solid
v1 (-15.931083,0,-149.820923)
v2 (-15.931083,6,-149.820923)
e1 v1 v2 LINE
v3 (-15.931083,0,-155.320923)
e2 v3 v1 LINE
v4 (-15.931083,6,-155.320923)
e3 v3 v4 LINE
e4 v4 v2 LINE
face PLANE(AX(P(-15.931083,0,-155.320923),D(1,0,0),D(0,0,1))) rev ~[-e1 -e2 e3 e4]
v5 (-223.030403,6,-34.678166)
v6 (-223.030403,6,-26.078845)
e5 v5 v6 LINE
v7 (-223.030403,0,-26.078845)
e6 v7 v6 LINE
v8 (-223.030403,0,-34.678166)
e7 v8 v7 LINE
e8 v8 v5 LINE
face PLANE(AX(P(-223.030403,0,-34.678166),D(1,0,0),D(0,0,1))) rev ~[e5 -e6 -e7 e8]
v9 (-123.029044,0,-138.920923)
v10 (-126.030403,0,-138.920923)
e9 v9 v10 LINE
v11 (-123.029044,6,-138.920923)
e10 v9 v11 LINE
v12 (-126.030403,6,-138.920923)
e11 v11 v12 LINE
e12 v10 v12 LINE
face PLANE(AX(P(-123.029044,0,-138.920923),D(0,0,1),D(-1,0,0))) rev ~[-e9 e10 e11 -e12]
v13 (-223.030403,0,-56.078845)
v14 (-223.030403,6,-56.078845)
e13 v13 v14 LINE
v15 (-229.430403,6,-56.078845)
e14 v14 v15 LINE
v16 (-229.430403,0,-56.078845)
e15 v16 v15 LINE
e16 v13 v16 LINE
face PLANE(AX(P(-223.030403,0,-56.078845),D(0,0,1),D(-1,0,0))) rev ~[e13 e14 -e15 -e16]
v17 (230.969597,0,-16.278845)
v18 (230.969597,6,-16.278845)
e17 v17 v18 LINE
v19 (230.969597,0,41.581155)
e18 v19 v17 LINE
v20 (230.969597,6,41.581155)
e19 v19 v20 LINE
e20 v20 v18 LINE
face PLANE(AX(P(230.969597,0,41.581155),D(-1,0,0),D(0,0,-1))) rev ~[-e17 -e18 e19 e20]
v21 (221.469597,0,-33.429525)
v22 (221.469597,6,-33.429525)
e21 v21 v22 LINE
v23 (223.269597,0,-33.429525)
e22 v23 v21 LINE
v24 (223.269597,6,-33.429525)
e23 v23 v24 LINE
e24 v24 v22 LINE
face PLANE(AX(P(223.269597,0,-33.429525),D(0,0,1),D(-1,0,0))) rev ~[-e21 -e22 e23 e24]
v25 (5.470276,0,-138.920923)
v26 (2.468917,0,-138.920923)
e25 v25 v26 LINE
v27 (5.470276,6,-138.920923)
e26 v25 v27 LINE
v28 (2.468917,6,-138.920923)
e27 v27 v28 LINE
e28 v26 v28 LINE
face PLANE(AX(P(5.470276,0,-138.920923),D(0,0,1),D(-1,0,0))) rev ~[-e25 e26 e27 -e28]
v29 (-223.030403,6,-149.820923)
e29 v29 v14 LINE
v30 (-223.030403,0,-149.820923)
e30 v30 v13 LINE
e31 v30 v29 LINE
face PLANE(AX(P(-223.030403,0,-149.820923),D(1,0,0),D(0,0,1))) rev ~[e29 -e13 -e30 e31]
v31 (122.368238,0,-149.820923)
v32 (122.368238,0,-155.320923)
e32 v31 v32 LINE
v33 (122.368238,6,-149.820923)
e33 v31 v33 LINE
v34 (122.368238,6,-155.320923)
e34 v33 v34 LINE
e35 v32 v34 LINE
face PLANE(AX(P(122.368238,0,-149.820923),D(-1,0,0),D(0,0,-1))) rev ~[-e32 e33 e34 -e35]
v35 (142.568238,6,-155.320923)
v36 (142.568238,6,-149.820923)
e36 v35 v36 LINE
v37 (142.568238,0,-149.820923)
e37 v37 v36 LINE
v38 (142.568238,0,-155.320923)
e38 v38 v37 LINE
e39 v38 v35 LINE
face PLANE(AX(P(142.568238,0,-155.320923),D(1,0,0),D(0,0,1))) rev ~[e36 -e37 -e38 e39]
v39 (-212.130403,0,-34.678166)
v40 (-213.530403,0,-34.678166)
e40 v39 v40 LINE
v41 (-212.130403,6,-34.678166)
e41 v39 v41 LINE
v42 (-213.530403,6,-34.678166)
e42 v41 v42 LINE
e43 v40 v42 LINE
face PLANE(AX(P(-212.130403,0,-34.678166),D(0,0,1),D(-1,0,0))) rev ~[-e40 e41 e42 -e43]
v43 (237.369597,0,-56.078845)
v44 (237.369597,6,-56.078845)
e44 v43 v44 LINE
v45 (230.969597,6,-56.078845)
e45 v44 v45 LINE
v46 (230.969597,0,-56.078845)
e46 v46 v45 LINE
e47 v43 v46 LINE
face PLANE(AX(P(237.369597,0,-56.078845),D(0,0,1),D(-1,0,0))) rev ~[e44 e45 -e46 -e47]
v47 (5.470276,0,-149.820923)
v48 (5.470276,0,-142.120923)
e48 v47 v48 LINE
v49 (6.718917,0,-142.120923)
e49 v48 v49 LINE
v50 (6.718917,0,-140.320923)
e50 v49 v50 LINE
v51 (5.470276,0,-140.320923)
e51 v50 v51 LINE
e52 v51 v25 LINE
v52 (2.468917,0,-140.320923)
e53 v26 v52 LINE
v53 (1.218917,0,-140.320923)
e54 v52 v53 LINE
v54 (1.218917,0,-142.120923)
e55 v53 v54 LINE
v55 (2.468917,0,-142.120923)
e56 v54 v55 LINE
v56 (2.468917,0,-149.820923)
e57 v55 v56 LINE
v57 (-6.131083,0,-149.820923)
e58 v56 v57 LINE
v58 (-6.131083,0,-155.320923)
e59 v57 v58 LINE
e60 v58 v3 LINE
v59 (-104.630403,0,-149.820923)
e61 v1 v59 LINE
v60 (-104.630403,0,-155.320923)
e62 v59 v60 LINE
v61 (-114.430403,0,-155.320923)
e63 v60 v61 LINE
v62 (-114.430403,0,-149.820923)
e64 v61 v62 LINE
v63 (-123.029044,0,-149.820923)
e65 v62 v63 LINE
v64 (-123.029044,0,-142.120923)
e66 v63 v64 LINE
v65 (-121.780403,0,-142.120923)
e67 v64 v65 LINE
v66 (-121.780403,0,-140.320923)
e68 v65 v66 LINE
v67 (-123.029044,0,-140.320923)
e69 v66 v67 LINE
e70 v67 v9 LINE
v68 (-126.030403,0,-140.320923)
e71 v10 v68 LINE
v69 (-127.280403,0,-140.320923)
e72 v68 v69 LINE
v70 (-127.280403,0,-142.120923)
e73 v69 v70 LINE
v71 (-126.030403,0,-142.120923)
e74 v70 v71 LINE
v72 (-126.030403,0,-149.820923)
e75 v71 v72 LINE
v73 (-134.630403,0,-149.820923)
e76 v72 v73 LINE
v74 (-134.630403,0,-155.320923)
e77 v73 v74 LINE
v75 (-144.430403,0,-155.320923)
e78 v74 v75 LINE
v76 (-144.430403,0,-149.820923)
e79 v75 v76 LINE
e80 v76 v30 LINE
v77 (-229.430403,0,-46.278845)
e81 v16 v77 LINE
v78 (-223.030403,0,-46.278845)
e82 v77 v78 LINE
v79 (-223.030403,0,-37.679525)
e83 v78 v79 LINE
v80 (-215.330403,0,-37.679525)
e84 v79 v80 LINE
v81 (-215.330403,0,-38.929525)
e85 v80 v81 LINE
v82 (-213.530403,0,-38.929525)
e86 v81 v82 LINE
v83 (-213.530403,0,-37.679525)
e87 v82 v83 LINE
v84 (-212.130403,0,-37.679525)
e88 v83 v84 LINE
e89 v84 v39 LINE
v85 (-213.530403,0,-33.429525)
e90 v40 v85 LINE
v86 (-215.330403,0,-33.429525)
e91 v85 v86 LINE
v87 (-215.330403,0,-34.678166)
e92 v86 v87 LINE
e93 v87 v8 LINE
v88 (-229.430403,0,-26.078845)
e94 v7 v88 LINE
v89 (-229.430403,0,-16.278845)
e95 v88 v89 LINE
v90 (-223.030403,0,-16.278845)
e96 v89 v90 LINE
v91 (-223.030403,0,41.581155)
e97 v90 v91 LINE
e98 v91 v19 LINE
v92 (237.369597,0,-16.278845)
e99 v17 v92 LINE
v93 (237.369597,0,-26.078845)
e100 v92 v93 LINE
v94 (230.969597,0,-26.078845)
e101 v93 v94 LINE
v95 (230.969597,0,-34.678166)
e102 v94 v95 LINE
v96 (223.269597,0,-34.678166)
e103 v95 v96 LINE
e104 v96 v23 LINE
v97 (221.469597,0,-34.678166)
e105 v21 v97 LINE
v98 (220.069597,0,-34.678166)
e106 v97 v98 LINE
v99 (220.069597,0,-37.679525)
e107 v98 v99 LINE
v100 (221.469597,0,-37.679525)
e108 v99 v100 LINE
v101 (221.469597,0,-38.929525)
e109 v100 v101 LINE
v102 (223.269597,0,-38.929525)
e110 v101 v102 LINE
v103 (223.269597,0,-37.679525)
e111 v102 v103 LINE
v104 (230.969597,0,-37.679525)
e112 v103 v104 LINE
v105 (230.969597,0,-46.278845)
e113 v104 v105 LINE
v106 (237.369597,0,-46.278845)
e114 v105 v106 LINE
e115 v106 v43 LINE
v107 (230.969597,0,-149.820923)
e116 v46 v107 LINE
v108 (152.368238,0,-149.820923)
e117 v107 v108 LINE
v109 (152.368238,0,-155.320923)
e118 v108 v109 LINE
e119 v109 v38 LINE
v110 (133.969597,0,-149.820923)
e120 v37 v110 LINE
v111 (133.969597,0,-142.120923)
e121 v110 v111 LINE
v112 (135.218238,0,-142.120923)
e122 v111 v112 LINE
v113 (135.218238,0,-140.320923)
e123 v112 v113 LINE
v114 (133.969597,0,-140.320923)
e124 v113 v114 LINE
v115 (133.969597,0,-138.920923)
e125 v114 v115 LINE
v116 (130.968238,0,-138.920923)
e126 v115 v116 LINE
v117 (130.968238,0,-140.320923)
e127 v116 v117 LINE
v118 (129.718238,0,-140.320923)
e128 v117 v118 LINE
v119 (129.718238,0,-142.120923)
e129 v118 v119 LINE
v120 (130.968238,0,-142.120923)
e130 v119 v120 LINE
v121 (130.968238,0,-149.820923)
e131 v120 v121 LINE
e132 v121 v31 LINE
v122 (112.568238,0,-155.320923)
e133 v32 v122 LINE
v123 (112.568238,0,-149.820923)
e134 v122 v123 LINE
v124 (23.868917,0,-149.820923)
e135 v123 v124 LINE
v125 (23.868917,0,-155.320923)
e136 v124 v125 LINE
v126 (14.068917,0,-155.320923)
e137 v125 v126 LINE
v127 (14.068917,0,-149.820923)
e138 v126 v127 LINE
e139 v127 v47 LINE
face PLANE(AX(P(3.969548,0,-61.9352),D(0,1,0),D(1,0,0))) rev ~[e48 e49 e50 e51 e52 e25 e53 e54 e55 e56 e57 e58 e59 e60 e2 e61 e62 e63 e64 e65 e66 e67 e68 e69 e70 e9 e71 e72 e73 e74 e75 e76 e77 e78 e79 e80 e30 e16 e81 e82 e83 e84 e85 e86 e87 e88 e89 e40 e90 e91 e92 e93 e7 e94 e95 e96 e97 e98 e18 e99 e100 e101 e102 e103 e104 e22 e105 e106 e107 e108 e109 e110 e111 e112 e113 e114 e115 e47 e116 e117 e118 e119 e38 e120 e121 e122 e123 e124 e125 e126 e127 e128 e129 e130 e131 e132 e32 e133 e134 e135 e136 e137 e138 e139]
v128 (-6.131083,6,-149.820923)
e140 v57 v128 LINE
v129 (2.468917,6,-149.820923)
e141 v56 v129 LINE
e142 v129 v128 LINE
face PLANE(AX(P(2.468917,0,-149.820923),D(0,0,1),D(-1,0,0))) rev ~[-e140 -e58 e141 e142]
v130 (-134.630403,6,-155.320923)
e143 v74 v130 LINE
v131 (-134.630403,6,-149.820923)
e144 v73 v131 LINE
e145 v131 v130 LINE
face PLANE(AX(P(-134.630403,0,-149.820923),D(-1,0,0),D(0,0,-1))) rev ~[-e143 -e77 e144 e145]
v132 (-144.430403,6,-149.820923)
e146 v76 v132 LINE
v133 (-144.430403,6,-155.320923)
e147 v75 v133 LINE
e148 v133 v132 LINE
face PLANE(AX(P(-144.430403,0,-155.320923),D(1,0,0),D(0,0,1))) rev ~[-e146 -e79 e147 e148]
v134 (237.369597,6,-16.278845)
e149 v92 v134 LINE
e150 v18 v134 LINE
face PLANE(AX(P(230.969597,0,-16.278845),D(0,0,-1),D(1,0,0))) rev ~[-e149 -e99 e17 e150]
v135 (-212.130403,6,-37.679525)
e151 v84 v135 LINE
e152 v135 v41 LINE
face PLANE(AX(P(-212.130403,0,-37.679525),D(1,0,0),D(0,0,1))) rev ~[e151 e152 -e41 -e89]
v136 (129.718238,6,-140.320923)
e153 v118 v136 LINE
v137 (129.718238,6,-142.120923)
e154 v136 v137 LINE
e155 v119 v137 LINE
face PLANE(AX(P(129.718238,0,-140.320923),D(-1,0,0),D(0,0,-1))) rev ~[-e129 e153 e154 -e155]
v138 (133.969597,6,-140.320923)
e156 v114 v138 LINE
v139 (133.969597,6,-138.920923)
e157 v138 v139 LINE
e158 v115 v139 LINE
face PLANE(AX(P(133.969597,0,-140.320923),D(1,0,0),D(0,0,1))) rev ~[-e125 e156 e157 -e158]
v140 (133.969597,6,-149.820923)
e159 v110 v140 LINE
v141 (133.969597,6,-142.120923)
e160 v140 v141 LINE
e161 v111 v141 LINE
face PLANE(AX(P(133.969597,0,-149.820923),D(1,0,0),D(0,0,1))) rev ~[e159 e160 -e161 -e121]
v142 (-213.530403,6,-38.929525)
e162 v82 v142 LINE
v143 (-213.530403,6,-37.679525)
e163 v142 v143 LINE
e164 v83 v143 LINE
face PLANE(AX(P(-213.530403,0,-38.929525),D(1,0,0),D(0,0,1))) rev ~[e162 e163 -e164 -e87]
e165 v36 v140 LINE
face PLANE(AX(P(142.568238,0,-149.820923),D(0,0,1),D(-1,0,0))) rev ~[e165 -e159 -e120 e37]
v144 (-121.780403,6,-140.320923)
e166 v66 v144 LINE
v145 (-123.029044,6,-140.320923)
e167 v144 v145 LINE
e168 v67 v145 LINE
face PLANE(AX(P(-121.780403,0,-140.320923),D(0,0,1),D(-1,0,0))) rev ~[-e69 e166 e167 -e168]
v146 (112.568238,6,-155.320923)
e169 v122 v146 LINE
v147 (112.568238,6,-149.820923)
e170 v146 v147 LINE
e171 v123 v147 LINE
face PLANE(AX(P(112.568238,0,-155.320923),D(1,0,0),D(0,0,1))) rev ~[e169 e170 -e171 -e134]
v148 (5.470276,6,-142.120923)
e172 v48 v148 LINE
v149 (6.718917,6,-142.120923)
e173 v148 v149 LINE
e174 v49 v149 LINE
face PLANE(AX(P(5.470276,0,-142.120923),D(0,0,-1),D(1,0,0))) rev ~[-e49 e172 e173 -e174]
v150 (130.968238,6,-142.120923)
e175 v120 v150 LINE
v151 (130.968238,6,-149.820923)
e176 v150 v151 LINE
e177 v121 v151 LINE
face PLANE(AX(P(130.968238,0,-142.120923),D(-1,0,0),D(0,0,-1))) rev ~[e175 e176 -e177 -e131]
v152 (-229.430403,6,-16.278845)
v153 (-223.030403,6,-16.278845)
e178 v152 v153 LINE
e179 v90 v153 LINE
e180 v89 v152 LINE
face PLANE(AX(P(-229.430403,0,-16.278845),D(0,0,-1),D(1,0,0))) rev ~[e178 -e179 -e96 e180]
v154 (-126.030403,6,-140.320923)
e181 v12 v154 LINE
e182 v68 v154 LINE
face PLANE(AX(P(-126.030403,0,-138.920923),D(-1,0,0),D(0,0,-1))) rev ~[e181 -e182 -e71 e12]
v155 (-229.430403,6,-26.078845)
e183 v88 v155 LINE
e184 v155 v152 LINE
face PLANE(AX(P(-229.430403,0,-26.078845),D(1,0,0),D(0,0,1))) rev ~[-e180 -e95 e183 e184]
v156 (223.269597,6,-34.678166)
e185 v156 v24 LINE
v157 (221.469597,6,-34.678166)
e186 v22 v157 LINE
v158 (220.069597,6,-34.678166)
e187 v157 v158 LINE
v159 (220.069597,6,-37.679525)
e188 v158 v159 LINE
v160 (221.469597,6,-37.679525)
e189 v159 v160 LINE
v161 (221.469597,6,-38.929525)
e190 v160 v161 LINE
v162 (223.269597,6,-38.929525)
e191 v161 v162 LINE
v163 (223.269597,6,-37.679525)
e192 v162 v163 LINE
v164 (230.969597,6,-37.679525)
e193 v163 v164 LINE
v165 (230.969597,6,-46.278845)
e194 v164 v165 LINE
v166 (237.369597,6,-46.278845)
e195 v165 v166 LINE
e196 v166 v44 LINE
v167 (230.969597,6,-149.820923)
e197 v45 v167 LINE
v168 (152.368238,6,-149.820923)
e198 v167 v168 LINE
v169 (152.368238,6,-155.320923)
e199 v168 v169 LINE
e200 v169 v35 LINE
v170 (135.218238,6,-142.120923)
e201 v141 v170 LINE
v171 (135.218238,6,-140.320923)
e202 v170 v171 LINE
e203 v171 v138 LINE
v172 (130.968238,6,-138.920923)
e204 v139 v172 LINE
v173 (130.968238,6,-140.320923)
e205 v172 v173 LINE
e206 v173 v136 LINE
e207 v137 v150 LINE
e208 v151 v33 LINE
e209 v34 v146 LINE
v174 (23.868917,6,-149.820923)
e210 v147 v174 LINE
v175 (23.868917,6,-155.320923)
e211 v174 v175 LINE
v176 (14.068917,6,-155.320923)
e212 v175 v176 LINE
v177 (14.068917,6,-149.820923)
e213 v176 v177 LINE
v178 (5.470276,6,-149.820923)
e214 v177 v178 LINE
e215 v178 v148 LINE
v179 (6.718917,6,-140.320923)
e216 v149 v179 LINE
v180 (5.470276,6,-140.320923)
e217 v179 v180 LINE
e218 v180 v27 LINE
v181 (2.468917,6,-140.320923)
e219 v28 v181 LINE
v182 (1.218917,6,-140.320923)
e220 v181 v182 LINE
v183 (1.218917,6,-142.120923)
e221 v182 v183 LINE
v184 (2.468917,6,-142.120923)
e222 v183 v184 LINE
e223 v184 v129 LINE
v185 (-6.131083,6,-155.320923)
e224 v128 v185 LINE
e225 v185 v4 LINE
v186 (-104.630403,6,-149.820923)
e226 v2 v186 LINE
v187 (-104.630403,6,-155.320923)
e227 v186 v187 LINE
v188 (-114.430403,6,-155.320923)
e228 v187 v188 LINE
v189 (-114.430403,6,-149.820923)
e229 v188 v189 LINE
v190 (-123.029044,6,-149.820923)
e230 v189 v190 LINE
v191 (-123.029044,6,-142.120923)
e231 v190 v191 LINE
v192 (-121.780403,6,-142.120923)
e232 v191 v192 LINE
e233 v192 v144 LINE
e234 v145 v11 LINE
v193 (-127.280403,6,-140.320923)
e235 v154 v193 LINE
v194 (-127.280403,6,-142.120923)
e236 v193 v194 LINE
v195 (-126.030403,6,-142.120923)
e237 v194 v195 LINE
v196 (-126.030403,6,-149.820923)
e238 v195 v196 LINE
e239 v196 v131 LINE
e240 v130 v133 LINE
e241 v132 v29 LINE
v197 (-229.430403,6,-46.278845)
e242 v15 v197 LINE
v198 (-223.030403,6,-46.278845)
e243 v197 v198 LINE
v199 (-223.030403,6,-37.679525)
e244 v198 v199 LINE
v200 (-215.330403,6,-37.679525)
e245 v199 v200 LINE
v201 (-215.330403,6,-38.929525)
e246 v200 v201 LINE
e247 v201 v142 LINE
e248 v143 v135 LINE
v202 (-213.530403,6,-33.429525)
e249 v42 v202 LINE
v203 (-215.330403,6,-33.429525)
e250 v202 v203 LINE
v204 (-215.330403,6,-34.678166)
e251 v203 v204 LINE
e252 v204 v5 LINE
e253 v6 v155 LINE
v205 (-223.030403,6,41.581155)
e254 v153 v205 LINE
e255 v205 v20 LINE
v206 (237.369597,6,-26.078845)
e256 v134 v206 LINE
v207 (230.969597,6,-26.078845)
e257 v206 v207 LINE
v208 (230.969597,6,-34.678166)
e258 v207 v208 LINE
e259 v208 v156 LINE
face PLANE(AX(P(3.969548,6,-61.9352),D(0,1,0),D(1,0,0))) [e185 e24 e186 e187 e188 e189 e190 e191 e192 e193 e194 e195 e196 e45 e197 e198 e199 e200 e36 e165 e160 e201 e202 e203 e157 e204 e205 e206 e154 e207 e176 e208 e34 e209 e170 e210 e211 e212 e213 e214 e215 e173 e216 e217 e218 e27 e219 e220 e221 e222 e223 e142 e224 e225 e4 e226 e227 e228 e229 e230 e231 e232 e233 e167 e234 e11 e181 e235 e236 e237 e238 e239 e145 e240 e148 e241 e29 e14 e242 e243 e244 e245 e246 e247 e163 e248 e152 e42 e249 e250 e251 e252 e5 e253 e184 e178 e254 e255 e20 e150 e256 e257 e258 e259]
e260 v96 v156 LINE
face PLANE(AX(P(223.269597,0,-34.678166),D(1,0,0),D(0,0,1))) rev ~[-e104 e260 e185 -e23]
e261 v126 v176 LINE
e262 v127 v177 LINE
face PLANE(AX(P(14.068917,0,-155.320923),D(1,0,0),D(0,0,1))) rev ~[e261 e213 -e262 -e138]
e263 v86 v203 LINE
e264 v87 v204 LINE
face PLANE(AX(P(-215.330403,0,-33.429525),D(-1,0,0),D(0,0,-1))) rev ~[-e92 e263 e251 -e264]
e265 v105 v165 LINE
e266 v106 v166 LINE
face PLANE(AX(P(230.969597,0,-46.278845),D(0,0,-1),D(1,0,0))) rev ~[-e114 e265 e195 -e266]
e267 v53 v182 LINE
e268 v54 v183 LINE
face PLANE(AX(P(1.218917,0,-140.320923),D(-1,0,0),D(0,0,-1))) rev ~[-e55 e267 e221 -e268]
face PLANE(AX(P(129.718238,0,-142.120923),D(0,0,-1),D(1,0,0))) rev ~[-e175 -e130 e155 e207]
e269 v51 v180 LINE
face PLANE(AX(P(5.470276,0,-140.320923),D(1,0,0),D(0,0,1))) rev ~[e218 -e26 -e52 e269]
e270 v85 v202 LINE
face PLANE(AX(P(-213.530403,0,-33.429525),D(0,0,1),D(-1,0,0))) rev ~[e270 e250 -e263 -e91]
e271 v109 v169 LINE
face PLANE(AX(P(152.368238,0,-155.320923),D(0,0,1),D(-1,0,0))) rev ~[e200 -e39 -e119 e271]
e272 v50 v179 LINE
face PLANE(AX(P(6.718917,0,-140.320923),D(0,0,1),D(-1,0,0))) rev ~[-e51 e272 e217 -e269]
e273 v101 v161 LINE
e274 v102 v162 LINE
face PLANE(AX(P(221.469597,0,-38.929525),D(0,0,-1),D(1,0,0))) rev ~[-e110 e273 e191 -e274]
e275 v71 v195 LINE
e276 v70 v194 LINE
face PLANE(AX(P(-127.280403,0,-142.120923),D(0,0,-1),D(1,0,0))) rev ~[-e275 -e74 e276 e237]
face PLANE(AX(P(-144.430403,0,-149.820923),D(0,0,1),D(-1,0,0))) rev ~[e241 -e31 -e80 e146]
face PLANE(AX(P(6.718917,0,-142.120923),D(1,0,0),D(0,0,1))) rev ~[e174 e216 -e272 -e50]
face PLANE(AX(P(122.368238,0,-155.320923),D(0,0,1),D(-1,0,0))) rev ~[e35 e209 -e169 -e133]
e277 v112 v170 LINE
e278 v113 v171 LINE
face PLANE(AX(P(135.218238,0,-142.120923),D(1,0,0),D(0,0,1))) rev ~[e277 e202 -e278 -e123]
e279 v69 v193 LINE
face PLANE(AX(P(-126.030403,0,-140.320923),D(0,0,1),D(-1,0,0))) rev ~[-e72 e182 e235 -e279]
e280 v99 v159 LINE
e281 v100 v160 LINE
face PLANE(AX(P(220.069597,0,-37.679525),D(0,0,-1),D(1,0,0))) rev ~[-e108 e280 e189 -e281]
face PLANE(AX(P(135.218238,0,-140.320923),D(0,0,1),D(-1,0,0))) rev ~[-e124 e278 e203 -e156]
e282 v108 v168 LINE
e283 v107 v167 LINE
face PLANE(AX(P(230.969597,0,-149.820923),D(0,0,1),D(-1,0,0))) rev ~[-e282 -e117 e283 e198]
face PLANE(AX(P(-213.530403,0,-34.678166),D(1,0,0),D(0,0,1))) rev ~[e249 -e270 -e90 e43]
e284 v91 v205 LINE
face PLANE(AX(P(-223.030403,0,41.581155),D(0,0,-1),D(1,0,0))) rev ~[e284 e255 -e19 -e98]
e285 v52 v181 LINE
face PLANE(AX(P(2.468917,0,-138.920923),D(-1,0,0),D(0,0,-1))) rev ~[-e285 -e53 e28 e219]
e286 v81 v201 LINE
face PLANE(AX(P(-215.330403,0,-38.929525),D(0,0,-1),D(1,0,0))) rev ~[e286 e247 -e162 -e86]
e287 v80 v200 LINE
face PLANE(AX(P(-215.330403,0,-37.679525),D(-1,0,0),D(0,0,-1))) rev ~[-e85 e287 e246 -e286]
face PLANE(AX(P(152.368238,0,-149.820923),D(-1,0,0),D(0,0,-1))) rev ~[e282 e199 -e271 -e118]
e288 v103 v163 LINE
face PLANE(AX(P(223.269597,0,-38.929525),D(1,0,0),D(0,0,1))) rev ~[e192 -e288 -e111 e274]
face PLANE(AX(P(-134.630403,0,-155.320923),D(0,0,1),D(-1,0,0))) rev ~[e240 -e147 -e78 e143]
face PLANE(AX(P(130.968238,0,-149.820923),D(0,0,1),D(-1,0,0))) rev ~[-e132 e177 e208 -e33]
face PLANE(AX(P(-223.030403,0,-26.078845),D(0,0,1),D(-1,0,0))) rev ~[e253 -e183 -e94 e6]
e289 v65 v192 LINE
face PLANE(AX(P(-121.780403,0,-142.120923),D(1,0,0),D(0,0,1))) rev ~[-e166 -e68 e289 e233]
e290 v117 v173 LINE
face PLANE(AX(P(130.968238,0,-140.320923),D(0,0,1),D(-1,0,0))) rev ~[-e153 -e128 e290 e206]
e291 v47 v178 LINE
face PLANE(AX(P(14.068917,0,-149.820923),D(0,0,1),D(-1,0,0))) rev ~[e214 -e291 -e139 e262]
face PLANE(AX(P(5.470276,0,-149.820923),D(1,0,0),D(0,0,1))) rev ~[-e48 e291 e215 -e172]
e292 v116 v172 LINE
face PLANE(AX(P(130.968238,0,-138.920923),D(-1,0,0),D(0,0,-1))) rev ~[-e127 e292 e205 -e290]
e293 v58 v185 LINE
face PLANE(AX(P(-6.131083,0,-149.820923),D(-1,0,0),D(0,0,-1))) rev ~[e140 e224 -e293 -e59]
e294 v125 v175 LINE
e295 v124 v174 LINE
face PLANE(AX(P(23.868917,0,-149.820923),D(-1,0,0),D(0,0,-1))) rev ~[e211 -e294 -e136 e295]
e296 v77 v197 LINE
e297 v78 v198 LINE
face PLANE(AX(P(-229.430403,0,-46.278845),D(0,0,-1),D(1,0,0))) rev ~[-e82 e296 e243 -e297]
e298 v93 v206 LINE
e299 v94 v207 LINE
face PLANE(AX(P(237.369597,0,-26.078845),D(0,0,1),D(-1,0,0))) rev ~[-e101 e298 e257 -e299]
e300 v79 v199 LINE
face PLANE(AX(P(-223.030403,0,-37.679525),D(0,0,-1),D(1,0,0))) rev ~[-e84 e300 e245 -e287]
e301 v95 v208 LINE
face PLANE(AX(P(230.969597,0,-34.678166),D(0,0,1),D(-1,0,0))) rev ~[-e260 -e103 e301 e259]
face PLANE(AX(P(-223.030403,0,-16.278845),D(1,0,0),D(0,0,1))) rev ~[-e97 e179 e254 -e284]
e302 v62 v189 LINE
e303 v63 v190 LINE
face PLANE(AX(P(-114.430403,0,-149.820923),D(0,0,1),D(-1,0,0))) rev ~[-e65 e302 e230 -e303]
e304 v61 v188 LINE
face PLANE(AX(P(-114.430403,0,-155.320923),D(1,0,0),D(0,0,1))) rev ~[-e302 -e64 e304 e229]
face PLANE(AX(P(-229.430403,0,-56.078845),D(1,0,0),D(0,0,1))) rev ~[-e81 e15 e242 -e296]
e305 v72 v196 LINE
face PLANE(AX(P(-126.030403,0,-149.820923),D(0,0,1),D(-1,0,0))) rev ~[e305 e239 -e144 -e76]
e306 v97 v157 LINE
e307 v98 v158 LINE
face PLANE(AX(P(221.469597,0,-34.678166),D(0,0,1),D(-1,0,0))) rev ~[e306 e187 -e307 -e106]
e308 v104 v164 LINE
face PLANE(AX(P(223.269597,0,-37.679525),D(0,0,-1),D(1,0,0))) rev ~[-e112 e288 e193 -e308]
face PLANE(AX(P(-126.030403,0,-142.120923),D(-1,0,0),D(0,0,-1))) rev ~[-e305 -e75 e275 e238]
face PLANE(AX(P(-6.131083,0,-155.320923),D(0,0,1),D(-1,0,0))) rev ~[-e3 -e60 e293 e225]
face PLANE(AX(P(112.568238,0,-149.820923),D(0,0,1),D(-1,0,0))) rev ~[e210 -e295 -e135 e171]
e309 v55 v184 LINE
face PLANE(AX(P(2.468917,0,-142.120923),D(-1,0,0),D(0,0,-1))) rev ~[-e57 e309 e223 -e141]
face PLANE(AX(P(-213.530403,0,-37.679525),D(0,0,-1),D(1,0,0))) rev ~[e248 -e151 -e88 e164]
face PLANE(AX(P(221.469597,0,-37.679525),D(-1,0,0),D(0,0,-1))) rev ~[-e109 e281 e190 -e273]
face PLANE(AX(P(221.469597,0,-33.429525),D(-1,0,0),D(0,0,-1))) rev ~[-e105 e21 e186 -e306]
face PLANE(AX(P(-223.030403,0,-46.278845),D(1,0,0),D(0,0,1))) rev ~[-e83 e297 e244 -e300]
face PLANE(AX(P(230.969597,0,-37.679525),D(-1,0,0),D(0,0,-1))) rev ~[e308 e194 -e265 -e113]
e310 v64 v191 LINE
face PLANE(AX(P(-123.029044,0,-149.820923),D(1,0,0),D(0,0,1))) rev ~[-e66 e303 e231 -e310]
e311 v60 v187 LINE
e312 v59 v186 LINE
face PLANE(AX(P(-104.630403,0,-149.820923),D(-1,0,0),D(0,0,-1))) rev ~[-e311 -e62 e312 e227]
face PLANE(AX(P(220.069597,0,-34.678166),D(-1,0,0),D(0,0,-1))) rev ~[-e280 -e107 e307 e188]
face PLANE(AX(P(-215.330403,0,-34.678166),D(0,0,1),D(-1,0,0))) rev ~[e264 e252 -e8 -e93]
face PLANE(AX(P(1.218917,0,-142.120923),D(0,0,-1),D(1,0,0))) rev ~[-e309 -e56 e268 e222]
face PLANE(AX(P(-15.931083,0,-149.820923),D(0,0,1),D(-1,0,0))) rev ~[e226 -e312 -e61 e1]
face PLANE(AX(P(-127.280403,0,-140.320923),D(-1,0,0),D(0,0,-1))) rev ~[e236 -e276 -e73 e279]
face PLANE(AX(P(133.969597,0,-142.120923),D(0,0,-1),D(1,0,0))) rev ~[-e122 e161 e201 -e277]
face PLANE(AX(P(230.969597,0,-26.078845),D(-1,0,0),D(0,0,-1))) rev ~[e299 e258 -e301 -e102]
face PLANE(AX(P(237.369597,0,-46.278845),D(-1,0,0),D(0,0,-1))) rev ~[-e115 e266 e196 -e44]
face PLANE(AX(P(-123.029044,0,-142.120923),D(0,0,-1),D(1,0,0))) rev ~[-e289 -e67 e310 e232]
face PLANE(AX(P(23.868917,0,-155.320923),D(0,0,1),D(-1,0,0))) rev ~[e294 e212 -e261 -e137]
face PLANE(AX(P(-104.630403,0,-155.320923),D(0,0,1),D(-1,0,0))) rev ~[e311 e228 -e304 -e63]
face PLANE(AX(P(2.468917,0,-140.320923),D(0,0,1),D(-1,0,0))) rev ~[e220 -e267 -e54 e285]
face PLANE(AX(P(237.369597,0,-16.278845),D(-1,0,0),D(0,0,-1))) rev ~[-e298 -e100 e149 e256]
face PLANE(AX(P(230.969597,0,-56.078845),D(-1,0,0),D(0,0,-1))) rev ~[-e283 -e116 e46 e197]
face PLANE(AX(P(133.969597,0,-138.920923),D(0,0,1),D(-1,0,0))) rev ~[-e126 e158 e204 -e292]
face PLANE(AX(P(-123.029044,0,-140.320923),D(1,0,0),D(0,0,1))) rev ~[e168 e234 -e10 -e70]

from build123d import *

# Parameters (mm, degrees)
BOSS_EXTRUDE1_DEPTH = 6


with BuildPart() as part:
    # Sketch1 → Boss-Extrude1 (new body)
    with BuildSketch(Plane(origin=(0, 0, 0), x_dir=(1, 0, 0), z_dir=(0, 1, 0))):
        Polygon((230.969596825, 56.078845433), (230.969596825, 149.820922954), (152.368237652, 149.820922954), (152.368237652, 155.320922954), (142.568237652, 155.320922954), (142.568237652, 149.820922954), (133.969596825, 149.820922954), (133.969596825, 142.120922954), (135.218237652, 142.120922954), (135.218237652, 140.320922954), (133.969596825, 140.320922954), (133.969596825, 138.920922954), (130.968237652, 138.920922954), (130.968237652, 140.320922954), (129.718237652, 140.320922954), (129.718237652, 142.120922954), (130.968237652, 142.120922954), (130.968237652, 149.820922954), (122.368237652, 149.820922954), (122.368237652, 155.320922954), (112.568237652, 155.320922954), (112.568237652, 149.820922954), (23.868917239, 149.820922954), (23.868917239, 155.320922954), (14.068917239, 155.320922954), (14.068917239, 149.820922954), (5.470276412, 149.820922954), (5.470276412, 142.120922954), (6.718917239, 142.120922954), (6.718917239, 140.320922954), (5.470276412, 140.320922954), (5.470276412, 138.920922954), (2.468917239, 138.920922954), (2.468917239, 140.320922954), (1.218917239, 140.320922954), (1.218917239, 142.120922954), (2.468917239, 142.120922954), (2.468917239, 149.820922954), (-6.131082761, 149.820922954), (-6.131082761, 155.320922954), (-15.931082761, 155.320922954), (-15.931082761, 149.820922954), (-104.630403175, 149.820922954), (-104.630403175, 155.320922954), (-114.430403175, 155.320922954), (-114.430403175, 149.820922954), (-123.029044001, 149.820922954), (-123.029044001, 142.120922954), (-121.780403175, 142.120922954), (-121.780403175, 140.320922954), (-123.029044001, 140.320922954), (-123.029044001, 138.920922954), (-126.030403175, 138.920922954), (-126.030403175, 140.320922954), (-127.280403175, 140.320922954), (-127.280403175, 142.120922954), (-126.030403175, 142.120922954), (-126.030403175, 149.820922954), (-134.630403175, 149.820922954), (-134.630403175, 155.320922954), (-144.430403175, 155.320922954), (-144.430403175, 149.820922954), (-223.030403175, 149.820922954), (-223.030403175, 56.078845433), (-229.430403175, 56.078845433), (-229.430403175, 46.278845433), (-223.030403175, 46.278845433), (-223.030403175, 37.67952502), (-215.330403175, 37.67952502), (-215.330403175, 38.92952502), (-213.530403175, 38.92952502), (-213.530403175, 37.67952502), (-212.130403175, 37.67952502), (-212.130403175, 34.678165847), (-213.530403175, 34.678165847), (-213.530403175, 33.42952502), (-215.330403175, 33.42952502), (-215.330403175, 34.678165847), (-223.030403175, 34.678165847), (-223.030403175, 26.078845433), (-229.430403175, 26.078845433), (-229.430403175, 16.278845433), (-223.030403175, 16.278845433), (-223.030403175, -41.581154567), (230.969596825, -41.581154567), (230.969596825, 16.278845433), (237.369596825, 16.278845433), (237.369596825, 26.078845433), (230.969596825, 26.078845433), (230.969596825, 34.678165847), (223.269596825, 34.678165847), (223.269596825, 33.42952502), (221.469596825, 33.42952502), (221.469596825, 34.678165847), (220.069596825, 34.678165847), (220.069596825, 37.67952502), (221.469596825, 37.67952502), (221.469596825, 38.92952502), (223.269596825, 38.92952502), (223.269596825, 37.67952502), (230.969596825, 37.67952502), (230.969596825, 46.278845433), (237.369596825, 46.278845433), (237.369596825, 56.078845433), align=None)
    extrude(amount=BOSS_EXTRUDE1_DEPTH)


solid = part.part
